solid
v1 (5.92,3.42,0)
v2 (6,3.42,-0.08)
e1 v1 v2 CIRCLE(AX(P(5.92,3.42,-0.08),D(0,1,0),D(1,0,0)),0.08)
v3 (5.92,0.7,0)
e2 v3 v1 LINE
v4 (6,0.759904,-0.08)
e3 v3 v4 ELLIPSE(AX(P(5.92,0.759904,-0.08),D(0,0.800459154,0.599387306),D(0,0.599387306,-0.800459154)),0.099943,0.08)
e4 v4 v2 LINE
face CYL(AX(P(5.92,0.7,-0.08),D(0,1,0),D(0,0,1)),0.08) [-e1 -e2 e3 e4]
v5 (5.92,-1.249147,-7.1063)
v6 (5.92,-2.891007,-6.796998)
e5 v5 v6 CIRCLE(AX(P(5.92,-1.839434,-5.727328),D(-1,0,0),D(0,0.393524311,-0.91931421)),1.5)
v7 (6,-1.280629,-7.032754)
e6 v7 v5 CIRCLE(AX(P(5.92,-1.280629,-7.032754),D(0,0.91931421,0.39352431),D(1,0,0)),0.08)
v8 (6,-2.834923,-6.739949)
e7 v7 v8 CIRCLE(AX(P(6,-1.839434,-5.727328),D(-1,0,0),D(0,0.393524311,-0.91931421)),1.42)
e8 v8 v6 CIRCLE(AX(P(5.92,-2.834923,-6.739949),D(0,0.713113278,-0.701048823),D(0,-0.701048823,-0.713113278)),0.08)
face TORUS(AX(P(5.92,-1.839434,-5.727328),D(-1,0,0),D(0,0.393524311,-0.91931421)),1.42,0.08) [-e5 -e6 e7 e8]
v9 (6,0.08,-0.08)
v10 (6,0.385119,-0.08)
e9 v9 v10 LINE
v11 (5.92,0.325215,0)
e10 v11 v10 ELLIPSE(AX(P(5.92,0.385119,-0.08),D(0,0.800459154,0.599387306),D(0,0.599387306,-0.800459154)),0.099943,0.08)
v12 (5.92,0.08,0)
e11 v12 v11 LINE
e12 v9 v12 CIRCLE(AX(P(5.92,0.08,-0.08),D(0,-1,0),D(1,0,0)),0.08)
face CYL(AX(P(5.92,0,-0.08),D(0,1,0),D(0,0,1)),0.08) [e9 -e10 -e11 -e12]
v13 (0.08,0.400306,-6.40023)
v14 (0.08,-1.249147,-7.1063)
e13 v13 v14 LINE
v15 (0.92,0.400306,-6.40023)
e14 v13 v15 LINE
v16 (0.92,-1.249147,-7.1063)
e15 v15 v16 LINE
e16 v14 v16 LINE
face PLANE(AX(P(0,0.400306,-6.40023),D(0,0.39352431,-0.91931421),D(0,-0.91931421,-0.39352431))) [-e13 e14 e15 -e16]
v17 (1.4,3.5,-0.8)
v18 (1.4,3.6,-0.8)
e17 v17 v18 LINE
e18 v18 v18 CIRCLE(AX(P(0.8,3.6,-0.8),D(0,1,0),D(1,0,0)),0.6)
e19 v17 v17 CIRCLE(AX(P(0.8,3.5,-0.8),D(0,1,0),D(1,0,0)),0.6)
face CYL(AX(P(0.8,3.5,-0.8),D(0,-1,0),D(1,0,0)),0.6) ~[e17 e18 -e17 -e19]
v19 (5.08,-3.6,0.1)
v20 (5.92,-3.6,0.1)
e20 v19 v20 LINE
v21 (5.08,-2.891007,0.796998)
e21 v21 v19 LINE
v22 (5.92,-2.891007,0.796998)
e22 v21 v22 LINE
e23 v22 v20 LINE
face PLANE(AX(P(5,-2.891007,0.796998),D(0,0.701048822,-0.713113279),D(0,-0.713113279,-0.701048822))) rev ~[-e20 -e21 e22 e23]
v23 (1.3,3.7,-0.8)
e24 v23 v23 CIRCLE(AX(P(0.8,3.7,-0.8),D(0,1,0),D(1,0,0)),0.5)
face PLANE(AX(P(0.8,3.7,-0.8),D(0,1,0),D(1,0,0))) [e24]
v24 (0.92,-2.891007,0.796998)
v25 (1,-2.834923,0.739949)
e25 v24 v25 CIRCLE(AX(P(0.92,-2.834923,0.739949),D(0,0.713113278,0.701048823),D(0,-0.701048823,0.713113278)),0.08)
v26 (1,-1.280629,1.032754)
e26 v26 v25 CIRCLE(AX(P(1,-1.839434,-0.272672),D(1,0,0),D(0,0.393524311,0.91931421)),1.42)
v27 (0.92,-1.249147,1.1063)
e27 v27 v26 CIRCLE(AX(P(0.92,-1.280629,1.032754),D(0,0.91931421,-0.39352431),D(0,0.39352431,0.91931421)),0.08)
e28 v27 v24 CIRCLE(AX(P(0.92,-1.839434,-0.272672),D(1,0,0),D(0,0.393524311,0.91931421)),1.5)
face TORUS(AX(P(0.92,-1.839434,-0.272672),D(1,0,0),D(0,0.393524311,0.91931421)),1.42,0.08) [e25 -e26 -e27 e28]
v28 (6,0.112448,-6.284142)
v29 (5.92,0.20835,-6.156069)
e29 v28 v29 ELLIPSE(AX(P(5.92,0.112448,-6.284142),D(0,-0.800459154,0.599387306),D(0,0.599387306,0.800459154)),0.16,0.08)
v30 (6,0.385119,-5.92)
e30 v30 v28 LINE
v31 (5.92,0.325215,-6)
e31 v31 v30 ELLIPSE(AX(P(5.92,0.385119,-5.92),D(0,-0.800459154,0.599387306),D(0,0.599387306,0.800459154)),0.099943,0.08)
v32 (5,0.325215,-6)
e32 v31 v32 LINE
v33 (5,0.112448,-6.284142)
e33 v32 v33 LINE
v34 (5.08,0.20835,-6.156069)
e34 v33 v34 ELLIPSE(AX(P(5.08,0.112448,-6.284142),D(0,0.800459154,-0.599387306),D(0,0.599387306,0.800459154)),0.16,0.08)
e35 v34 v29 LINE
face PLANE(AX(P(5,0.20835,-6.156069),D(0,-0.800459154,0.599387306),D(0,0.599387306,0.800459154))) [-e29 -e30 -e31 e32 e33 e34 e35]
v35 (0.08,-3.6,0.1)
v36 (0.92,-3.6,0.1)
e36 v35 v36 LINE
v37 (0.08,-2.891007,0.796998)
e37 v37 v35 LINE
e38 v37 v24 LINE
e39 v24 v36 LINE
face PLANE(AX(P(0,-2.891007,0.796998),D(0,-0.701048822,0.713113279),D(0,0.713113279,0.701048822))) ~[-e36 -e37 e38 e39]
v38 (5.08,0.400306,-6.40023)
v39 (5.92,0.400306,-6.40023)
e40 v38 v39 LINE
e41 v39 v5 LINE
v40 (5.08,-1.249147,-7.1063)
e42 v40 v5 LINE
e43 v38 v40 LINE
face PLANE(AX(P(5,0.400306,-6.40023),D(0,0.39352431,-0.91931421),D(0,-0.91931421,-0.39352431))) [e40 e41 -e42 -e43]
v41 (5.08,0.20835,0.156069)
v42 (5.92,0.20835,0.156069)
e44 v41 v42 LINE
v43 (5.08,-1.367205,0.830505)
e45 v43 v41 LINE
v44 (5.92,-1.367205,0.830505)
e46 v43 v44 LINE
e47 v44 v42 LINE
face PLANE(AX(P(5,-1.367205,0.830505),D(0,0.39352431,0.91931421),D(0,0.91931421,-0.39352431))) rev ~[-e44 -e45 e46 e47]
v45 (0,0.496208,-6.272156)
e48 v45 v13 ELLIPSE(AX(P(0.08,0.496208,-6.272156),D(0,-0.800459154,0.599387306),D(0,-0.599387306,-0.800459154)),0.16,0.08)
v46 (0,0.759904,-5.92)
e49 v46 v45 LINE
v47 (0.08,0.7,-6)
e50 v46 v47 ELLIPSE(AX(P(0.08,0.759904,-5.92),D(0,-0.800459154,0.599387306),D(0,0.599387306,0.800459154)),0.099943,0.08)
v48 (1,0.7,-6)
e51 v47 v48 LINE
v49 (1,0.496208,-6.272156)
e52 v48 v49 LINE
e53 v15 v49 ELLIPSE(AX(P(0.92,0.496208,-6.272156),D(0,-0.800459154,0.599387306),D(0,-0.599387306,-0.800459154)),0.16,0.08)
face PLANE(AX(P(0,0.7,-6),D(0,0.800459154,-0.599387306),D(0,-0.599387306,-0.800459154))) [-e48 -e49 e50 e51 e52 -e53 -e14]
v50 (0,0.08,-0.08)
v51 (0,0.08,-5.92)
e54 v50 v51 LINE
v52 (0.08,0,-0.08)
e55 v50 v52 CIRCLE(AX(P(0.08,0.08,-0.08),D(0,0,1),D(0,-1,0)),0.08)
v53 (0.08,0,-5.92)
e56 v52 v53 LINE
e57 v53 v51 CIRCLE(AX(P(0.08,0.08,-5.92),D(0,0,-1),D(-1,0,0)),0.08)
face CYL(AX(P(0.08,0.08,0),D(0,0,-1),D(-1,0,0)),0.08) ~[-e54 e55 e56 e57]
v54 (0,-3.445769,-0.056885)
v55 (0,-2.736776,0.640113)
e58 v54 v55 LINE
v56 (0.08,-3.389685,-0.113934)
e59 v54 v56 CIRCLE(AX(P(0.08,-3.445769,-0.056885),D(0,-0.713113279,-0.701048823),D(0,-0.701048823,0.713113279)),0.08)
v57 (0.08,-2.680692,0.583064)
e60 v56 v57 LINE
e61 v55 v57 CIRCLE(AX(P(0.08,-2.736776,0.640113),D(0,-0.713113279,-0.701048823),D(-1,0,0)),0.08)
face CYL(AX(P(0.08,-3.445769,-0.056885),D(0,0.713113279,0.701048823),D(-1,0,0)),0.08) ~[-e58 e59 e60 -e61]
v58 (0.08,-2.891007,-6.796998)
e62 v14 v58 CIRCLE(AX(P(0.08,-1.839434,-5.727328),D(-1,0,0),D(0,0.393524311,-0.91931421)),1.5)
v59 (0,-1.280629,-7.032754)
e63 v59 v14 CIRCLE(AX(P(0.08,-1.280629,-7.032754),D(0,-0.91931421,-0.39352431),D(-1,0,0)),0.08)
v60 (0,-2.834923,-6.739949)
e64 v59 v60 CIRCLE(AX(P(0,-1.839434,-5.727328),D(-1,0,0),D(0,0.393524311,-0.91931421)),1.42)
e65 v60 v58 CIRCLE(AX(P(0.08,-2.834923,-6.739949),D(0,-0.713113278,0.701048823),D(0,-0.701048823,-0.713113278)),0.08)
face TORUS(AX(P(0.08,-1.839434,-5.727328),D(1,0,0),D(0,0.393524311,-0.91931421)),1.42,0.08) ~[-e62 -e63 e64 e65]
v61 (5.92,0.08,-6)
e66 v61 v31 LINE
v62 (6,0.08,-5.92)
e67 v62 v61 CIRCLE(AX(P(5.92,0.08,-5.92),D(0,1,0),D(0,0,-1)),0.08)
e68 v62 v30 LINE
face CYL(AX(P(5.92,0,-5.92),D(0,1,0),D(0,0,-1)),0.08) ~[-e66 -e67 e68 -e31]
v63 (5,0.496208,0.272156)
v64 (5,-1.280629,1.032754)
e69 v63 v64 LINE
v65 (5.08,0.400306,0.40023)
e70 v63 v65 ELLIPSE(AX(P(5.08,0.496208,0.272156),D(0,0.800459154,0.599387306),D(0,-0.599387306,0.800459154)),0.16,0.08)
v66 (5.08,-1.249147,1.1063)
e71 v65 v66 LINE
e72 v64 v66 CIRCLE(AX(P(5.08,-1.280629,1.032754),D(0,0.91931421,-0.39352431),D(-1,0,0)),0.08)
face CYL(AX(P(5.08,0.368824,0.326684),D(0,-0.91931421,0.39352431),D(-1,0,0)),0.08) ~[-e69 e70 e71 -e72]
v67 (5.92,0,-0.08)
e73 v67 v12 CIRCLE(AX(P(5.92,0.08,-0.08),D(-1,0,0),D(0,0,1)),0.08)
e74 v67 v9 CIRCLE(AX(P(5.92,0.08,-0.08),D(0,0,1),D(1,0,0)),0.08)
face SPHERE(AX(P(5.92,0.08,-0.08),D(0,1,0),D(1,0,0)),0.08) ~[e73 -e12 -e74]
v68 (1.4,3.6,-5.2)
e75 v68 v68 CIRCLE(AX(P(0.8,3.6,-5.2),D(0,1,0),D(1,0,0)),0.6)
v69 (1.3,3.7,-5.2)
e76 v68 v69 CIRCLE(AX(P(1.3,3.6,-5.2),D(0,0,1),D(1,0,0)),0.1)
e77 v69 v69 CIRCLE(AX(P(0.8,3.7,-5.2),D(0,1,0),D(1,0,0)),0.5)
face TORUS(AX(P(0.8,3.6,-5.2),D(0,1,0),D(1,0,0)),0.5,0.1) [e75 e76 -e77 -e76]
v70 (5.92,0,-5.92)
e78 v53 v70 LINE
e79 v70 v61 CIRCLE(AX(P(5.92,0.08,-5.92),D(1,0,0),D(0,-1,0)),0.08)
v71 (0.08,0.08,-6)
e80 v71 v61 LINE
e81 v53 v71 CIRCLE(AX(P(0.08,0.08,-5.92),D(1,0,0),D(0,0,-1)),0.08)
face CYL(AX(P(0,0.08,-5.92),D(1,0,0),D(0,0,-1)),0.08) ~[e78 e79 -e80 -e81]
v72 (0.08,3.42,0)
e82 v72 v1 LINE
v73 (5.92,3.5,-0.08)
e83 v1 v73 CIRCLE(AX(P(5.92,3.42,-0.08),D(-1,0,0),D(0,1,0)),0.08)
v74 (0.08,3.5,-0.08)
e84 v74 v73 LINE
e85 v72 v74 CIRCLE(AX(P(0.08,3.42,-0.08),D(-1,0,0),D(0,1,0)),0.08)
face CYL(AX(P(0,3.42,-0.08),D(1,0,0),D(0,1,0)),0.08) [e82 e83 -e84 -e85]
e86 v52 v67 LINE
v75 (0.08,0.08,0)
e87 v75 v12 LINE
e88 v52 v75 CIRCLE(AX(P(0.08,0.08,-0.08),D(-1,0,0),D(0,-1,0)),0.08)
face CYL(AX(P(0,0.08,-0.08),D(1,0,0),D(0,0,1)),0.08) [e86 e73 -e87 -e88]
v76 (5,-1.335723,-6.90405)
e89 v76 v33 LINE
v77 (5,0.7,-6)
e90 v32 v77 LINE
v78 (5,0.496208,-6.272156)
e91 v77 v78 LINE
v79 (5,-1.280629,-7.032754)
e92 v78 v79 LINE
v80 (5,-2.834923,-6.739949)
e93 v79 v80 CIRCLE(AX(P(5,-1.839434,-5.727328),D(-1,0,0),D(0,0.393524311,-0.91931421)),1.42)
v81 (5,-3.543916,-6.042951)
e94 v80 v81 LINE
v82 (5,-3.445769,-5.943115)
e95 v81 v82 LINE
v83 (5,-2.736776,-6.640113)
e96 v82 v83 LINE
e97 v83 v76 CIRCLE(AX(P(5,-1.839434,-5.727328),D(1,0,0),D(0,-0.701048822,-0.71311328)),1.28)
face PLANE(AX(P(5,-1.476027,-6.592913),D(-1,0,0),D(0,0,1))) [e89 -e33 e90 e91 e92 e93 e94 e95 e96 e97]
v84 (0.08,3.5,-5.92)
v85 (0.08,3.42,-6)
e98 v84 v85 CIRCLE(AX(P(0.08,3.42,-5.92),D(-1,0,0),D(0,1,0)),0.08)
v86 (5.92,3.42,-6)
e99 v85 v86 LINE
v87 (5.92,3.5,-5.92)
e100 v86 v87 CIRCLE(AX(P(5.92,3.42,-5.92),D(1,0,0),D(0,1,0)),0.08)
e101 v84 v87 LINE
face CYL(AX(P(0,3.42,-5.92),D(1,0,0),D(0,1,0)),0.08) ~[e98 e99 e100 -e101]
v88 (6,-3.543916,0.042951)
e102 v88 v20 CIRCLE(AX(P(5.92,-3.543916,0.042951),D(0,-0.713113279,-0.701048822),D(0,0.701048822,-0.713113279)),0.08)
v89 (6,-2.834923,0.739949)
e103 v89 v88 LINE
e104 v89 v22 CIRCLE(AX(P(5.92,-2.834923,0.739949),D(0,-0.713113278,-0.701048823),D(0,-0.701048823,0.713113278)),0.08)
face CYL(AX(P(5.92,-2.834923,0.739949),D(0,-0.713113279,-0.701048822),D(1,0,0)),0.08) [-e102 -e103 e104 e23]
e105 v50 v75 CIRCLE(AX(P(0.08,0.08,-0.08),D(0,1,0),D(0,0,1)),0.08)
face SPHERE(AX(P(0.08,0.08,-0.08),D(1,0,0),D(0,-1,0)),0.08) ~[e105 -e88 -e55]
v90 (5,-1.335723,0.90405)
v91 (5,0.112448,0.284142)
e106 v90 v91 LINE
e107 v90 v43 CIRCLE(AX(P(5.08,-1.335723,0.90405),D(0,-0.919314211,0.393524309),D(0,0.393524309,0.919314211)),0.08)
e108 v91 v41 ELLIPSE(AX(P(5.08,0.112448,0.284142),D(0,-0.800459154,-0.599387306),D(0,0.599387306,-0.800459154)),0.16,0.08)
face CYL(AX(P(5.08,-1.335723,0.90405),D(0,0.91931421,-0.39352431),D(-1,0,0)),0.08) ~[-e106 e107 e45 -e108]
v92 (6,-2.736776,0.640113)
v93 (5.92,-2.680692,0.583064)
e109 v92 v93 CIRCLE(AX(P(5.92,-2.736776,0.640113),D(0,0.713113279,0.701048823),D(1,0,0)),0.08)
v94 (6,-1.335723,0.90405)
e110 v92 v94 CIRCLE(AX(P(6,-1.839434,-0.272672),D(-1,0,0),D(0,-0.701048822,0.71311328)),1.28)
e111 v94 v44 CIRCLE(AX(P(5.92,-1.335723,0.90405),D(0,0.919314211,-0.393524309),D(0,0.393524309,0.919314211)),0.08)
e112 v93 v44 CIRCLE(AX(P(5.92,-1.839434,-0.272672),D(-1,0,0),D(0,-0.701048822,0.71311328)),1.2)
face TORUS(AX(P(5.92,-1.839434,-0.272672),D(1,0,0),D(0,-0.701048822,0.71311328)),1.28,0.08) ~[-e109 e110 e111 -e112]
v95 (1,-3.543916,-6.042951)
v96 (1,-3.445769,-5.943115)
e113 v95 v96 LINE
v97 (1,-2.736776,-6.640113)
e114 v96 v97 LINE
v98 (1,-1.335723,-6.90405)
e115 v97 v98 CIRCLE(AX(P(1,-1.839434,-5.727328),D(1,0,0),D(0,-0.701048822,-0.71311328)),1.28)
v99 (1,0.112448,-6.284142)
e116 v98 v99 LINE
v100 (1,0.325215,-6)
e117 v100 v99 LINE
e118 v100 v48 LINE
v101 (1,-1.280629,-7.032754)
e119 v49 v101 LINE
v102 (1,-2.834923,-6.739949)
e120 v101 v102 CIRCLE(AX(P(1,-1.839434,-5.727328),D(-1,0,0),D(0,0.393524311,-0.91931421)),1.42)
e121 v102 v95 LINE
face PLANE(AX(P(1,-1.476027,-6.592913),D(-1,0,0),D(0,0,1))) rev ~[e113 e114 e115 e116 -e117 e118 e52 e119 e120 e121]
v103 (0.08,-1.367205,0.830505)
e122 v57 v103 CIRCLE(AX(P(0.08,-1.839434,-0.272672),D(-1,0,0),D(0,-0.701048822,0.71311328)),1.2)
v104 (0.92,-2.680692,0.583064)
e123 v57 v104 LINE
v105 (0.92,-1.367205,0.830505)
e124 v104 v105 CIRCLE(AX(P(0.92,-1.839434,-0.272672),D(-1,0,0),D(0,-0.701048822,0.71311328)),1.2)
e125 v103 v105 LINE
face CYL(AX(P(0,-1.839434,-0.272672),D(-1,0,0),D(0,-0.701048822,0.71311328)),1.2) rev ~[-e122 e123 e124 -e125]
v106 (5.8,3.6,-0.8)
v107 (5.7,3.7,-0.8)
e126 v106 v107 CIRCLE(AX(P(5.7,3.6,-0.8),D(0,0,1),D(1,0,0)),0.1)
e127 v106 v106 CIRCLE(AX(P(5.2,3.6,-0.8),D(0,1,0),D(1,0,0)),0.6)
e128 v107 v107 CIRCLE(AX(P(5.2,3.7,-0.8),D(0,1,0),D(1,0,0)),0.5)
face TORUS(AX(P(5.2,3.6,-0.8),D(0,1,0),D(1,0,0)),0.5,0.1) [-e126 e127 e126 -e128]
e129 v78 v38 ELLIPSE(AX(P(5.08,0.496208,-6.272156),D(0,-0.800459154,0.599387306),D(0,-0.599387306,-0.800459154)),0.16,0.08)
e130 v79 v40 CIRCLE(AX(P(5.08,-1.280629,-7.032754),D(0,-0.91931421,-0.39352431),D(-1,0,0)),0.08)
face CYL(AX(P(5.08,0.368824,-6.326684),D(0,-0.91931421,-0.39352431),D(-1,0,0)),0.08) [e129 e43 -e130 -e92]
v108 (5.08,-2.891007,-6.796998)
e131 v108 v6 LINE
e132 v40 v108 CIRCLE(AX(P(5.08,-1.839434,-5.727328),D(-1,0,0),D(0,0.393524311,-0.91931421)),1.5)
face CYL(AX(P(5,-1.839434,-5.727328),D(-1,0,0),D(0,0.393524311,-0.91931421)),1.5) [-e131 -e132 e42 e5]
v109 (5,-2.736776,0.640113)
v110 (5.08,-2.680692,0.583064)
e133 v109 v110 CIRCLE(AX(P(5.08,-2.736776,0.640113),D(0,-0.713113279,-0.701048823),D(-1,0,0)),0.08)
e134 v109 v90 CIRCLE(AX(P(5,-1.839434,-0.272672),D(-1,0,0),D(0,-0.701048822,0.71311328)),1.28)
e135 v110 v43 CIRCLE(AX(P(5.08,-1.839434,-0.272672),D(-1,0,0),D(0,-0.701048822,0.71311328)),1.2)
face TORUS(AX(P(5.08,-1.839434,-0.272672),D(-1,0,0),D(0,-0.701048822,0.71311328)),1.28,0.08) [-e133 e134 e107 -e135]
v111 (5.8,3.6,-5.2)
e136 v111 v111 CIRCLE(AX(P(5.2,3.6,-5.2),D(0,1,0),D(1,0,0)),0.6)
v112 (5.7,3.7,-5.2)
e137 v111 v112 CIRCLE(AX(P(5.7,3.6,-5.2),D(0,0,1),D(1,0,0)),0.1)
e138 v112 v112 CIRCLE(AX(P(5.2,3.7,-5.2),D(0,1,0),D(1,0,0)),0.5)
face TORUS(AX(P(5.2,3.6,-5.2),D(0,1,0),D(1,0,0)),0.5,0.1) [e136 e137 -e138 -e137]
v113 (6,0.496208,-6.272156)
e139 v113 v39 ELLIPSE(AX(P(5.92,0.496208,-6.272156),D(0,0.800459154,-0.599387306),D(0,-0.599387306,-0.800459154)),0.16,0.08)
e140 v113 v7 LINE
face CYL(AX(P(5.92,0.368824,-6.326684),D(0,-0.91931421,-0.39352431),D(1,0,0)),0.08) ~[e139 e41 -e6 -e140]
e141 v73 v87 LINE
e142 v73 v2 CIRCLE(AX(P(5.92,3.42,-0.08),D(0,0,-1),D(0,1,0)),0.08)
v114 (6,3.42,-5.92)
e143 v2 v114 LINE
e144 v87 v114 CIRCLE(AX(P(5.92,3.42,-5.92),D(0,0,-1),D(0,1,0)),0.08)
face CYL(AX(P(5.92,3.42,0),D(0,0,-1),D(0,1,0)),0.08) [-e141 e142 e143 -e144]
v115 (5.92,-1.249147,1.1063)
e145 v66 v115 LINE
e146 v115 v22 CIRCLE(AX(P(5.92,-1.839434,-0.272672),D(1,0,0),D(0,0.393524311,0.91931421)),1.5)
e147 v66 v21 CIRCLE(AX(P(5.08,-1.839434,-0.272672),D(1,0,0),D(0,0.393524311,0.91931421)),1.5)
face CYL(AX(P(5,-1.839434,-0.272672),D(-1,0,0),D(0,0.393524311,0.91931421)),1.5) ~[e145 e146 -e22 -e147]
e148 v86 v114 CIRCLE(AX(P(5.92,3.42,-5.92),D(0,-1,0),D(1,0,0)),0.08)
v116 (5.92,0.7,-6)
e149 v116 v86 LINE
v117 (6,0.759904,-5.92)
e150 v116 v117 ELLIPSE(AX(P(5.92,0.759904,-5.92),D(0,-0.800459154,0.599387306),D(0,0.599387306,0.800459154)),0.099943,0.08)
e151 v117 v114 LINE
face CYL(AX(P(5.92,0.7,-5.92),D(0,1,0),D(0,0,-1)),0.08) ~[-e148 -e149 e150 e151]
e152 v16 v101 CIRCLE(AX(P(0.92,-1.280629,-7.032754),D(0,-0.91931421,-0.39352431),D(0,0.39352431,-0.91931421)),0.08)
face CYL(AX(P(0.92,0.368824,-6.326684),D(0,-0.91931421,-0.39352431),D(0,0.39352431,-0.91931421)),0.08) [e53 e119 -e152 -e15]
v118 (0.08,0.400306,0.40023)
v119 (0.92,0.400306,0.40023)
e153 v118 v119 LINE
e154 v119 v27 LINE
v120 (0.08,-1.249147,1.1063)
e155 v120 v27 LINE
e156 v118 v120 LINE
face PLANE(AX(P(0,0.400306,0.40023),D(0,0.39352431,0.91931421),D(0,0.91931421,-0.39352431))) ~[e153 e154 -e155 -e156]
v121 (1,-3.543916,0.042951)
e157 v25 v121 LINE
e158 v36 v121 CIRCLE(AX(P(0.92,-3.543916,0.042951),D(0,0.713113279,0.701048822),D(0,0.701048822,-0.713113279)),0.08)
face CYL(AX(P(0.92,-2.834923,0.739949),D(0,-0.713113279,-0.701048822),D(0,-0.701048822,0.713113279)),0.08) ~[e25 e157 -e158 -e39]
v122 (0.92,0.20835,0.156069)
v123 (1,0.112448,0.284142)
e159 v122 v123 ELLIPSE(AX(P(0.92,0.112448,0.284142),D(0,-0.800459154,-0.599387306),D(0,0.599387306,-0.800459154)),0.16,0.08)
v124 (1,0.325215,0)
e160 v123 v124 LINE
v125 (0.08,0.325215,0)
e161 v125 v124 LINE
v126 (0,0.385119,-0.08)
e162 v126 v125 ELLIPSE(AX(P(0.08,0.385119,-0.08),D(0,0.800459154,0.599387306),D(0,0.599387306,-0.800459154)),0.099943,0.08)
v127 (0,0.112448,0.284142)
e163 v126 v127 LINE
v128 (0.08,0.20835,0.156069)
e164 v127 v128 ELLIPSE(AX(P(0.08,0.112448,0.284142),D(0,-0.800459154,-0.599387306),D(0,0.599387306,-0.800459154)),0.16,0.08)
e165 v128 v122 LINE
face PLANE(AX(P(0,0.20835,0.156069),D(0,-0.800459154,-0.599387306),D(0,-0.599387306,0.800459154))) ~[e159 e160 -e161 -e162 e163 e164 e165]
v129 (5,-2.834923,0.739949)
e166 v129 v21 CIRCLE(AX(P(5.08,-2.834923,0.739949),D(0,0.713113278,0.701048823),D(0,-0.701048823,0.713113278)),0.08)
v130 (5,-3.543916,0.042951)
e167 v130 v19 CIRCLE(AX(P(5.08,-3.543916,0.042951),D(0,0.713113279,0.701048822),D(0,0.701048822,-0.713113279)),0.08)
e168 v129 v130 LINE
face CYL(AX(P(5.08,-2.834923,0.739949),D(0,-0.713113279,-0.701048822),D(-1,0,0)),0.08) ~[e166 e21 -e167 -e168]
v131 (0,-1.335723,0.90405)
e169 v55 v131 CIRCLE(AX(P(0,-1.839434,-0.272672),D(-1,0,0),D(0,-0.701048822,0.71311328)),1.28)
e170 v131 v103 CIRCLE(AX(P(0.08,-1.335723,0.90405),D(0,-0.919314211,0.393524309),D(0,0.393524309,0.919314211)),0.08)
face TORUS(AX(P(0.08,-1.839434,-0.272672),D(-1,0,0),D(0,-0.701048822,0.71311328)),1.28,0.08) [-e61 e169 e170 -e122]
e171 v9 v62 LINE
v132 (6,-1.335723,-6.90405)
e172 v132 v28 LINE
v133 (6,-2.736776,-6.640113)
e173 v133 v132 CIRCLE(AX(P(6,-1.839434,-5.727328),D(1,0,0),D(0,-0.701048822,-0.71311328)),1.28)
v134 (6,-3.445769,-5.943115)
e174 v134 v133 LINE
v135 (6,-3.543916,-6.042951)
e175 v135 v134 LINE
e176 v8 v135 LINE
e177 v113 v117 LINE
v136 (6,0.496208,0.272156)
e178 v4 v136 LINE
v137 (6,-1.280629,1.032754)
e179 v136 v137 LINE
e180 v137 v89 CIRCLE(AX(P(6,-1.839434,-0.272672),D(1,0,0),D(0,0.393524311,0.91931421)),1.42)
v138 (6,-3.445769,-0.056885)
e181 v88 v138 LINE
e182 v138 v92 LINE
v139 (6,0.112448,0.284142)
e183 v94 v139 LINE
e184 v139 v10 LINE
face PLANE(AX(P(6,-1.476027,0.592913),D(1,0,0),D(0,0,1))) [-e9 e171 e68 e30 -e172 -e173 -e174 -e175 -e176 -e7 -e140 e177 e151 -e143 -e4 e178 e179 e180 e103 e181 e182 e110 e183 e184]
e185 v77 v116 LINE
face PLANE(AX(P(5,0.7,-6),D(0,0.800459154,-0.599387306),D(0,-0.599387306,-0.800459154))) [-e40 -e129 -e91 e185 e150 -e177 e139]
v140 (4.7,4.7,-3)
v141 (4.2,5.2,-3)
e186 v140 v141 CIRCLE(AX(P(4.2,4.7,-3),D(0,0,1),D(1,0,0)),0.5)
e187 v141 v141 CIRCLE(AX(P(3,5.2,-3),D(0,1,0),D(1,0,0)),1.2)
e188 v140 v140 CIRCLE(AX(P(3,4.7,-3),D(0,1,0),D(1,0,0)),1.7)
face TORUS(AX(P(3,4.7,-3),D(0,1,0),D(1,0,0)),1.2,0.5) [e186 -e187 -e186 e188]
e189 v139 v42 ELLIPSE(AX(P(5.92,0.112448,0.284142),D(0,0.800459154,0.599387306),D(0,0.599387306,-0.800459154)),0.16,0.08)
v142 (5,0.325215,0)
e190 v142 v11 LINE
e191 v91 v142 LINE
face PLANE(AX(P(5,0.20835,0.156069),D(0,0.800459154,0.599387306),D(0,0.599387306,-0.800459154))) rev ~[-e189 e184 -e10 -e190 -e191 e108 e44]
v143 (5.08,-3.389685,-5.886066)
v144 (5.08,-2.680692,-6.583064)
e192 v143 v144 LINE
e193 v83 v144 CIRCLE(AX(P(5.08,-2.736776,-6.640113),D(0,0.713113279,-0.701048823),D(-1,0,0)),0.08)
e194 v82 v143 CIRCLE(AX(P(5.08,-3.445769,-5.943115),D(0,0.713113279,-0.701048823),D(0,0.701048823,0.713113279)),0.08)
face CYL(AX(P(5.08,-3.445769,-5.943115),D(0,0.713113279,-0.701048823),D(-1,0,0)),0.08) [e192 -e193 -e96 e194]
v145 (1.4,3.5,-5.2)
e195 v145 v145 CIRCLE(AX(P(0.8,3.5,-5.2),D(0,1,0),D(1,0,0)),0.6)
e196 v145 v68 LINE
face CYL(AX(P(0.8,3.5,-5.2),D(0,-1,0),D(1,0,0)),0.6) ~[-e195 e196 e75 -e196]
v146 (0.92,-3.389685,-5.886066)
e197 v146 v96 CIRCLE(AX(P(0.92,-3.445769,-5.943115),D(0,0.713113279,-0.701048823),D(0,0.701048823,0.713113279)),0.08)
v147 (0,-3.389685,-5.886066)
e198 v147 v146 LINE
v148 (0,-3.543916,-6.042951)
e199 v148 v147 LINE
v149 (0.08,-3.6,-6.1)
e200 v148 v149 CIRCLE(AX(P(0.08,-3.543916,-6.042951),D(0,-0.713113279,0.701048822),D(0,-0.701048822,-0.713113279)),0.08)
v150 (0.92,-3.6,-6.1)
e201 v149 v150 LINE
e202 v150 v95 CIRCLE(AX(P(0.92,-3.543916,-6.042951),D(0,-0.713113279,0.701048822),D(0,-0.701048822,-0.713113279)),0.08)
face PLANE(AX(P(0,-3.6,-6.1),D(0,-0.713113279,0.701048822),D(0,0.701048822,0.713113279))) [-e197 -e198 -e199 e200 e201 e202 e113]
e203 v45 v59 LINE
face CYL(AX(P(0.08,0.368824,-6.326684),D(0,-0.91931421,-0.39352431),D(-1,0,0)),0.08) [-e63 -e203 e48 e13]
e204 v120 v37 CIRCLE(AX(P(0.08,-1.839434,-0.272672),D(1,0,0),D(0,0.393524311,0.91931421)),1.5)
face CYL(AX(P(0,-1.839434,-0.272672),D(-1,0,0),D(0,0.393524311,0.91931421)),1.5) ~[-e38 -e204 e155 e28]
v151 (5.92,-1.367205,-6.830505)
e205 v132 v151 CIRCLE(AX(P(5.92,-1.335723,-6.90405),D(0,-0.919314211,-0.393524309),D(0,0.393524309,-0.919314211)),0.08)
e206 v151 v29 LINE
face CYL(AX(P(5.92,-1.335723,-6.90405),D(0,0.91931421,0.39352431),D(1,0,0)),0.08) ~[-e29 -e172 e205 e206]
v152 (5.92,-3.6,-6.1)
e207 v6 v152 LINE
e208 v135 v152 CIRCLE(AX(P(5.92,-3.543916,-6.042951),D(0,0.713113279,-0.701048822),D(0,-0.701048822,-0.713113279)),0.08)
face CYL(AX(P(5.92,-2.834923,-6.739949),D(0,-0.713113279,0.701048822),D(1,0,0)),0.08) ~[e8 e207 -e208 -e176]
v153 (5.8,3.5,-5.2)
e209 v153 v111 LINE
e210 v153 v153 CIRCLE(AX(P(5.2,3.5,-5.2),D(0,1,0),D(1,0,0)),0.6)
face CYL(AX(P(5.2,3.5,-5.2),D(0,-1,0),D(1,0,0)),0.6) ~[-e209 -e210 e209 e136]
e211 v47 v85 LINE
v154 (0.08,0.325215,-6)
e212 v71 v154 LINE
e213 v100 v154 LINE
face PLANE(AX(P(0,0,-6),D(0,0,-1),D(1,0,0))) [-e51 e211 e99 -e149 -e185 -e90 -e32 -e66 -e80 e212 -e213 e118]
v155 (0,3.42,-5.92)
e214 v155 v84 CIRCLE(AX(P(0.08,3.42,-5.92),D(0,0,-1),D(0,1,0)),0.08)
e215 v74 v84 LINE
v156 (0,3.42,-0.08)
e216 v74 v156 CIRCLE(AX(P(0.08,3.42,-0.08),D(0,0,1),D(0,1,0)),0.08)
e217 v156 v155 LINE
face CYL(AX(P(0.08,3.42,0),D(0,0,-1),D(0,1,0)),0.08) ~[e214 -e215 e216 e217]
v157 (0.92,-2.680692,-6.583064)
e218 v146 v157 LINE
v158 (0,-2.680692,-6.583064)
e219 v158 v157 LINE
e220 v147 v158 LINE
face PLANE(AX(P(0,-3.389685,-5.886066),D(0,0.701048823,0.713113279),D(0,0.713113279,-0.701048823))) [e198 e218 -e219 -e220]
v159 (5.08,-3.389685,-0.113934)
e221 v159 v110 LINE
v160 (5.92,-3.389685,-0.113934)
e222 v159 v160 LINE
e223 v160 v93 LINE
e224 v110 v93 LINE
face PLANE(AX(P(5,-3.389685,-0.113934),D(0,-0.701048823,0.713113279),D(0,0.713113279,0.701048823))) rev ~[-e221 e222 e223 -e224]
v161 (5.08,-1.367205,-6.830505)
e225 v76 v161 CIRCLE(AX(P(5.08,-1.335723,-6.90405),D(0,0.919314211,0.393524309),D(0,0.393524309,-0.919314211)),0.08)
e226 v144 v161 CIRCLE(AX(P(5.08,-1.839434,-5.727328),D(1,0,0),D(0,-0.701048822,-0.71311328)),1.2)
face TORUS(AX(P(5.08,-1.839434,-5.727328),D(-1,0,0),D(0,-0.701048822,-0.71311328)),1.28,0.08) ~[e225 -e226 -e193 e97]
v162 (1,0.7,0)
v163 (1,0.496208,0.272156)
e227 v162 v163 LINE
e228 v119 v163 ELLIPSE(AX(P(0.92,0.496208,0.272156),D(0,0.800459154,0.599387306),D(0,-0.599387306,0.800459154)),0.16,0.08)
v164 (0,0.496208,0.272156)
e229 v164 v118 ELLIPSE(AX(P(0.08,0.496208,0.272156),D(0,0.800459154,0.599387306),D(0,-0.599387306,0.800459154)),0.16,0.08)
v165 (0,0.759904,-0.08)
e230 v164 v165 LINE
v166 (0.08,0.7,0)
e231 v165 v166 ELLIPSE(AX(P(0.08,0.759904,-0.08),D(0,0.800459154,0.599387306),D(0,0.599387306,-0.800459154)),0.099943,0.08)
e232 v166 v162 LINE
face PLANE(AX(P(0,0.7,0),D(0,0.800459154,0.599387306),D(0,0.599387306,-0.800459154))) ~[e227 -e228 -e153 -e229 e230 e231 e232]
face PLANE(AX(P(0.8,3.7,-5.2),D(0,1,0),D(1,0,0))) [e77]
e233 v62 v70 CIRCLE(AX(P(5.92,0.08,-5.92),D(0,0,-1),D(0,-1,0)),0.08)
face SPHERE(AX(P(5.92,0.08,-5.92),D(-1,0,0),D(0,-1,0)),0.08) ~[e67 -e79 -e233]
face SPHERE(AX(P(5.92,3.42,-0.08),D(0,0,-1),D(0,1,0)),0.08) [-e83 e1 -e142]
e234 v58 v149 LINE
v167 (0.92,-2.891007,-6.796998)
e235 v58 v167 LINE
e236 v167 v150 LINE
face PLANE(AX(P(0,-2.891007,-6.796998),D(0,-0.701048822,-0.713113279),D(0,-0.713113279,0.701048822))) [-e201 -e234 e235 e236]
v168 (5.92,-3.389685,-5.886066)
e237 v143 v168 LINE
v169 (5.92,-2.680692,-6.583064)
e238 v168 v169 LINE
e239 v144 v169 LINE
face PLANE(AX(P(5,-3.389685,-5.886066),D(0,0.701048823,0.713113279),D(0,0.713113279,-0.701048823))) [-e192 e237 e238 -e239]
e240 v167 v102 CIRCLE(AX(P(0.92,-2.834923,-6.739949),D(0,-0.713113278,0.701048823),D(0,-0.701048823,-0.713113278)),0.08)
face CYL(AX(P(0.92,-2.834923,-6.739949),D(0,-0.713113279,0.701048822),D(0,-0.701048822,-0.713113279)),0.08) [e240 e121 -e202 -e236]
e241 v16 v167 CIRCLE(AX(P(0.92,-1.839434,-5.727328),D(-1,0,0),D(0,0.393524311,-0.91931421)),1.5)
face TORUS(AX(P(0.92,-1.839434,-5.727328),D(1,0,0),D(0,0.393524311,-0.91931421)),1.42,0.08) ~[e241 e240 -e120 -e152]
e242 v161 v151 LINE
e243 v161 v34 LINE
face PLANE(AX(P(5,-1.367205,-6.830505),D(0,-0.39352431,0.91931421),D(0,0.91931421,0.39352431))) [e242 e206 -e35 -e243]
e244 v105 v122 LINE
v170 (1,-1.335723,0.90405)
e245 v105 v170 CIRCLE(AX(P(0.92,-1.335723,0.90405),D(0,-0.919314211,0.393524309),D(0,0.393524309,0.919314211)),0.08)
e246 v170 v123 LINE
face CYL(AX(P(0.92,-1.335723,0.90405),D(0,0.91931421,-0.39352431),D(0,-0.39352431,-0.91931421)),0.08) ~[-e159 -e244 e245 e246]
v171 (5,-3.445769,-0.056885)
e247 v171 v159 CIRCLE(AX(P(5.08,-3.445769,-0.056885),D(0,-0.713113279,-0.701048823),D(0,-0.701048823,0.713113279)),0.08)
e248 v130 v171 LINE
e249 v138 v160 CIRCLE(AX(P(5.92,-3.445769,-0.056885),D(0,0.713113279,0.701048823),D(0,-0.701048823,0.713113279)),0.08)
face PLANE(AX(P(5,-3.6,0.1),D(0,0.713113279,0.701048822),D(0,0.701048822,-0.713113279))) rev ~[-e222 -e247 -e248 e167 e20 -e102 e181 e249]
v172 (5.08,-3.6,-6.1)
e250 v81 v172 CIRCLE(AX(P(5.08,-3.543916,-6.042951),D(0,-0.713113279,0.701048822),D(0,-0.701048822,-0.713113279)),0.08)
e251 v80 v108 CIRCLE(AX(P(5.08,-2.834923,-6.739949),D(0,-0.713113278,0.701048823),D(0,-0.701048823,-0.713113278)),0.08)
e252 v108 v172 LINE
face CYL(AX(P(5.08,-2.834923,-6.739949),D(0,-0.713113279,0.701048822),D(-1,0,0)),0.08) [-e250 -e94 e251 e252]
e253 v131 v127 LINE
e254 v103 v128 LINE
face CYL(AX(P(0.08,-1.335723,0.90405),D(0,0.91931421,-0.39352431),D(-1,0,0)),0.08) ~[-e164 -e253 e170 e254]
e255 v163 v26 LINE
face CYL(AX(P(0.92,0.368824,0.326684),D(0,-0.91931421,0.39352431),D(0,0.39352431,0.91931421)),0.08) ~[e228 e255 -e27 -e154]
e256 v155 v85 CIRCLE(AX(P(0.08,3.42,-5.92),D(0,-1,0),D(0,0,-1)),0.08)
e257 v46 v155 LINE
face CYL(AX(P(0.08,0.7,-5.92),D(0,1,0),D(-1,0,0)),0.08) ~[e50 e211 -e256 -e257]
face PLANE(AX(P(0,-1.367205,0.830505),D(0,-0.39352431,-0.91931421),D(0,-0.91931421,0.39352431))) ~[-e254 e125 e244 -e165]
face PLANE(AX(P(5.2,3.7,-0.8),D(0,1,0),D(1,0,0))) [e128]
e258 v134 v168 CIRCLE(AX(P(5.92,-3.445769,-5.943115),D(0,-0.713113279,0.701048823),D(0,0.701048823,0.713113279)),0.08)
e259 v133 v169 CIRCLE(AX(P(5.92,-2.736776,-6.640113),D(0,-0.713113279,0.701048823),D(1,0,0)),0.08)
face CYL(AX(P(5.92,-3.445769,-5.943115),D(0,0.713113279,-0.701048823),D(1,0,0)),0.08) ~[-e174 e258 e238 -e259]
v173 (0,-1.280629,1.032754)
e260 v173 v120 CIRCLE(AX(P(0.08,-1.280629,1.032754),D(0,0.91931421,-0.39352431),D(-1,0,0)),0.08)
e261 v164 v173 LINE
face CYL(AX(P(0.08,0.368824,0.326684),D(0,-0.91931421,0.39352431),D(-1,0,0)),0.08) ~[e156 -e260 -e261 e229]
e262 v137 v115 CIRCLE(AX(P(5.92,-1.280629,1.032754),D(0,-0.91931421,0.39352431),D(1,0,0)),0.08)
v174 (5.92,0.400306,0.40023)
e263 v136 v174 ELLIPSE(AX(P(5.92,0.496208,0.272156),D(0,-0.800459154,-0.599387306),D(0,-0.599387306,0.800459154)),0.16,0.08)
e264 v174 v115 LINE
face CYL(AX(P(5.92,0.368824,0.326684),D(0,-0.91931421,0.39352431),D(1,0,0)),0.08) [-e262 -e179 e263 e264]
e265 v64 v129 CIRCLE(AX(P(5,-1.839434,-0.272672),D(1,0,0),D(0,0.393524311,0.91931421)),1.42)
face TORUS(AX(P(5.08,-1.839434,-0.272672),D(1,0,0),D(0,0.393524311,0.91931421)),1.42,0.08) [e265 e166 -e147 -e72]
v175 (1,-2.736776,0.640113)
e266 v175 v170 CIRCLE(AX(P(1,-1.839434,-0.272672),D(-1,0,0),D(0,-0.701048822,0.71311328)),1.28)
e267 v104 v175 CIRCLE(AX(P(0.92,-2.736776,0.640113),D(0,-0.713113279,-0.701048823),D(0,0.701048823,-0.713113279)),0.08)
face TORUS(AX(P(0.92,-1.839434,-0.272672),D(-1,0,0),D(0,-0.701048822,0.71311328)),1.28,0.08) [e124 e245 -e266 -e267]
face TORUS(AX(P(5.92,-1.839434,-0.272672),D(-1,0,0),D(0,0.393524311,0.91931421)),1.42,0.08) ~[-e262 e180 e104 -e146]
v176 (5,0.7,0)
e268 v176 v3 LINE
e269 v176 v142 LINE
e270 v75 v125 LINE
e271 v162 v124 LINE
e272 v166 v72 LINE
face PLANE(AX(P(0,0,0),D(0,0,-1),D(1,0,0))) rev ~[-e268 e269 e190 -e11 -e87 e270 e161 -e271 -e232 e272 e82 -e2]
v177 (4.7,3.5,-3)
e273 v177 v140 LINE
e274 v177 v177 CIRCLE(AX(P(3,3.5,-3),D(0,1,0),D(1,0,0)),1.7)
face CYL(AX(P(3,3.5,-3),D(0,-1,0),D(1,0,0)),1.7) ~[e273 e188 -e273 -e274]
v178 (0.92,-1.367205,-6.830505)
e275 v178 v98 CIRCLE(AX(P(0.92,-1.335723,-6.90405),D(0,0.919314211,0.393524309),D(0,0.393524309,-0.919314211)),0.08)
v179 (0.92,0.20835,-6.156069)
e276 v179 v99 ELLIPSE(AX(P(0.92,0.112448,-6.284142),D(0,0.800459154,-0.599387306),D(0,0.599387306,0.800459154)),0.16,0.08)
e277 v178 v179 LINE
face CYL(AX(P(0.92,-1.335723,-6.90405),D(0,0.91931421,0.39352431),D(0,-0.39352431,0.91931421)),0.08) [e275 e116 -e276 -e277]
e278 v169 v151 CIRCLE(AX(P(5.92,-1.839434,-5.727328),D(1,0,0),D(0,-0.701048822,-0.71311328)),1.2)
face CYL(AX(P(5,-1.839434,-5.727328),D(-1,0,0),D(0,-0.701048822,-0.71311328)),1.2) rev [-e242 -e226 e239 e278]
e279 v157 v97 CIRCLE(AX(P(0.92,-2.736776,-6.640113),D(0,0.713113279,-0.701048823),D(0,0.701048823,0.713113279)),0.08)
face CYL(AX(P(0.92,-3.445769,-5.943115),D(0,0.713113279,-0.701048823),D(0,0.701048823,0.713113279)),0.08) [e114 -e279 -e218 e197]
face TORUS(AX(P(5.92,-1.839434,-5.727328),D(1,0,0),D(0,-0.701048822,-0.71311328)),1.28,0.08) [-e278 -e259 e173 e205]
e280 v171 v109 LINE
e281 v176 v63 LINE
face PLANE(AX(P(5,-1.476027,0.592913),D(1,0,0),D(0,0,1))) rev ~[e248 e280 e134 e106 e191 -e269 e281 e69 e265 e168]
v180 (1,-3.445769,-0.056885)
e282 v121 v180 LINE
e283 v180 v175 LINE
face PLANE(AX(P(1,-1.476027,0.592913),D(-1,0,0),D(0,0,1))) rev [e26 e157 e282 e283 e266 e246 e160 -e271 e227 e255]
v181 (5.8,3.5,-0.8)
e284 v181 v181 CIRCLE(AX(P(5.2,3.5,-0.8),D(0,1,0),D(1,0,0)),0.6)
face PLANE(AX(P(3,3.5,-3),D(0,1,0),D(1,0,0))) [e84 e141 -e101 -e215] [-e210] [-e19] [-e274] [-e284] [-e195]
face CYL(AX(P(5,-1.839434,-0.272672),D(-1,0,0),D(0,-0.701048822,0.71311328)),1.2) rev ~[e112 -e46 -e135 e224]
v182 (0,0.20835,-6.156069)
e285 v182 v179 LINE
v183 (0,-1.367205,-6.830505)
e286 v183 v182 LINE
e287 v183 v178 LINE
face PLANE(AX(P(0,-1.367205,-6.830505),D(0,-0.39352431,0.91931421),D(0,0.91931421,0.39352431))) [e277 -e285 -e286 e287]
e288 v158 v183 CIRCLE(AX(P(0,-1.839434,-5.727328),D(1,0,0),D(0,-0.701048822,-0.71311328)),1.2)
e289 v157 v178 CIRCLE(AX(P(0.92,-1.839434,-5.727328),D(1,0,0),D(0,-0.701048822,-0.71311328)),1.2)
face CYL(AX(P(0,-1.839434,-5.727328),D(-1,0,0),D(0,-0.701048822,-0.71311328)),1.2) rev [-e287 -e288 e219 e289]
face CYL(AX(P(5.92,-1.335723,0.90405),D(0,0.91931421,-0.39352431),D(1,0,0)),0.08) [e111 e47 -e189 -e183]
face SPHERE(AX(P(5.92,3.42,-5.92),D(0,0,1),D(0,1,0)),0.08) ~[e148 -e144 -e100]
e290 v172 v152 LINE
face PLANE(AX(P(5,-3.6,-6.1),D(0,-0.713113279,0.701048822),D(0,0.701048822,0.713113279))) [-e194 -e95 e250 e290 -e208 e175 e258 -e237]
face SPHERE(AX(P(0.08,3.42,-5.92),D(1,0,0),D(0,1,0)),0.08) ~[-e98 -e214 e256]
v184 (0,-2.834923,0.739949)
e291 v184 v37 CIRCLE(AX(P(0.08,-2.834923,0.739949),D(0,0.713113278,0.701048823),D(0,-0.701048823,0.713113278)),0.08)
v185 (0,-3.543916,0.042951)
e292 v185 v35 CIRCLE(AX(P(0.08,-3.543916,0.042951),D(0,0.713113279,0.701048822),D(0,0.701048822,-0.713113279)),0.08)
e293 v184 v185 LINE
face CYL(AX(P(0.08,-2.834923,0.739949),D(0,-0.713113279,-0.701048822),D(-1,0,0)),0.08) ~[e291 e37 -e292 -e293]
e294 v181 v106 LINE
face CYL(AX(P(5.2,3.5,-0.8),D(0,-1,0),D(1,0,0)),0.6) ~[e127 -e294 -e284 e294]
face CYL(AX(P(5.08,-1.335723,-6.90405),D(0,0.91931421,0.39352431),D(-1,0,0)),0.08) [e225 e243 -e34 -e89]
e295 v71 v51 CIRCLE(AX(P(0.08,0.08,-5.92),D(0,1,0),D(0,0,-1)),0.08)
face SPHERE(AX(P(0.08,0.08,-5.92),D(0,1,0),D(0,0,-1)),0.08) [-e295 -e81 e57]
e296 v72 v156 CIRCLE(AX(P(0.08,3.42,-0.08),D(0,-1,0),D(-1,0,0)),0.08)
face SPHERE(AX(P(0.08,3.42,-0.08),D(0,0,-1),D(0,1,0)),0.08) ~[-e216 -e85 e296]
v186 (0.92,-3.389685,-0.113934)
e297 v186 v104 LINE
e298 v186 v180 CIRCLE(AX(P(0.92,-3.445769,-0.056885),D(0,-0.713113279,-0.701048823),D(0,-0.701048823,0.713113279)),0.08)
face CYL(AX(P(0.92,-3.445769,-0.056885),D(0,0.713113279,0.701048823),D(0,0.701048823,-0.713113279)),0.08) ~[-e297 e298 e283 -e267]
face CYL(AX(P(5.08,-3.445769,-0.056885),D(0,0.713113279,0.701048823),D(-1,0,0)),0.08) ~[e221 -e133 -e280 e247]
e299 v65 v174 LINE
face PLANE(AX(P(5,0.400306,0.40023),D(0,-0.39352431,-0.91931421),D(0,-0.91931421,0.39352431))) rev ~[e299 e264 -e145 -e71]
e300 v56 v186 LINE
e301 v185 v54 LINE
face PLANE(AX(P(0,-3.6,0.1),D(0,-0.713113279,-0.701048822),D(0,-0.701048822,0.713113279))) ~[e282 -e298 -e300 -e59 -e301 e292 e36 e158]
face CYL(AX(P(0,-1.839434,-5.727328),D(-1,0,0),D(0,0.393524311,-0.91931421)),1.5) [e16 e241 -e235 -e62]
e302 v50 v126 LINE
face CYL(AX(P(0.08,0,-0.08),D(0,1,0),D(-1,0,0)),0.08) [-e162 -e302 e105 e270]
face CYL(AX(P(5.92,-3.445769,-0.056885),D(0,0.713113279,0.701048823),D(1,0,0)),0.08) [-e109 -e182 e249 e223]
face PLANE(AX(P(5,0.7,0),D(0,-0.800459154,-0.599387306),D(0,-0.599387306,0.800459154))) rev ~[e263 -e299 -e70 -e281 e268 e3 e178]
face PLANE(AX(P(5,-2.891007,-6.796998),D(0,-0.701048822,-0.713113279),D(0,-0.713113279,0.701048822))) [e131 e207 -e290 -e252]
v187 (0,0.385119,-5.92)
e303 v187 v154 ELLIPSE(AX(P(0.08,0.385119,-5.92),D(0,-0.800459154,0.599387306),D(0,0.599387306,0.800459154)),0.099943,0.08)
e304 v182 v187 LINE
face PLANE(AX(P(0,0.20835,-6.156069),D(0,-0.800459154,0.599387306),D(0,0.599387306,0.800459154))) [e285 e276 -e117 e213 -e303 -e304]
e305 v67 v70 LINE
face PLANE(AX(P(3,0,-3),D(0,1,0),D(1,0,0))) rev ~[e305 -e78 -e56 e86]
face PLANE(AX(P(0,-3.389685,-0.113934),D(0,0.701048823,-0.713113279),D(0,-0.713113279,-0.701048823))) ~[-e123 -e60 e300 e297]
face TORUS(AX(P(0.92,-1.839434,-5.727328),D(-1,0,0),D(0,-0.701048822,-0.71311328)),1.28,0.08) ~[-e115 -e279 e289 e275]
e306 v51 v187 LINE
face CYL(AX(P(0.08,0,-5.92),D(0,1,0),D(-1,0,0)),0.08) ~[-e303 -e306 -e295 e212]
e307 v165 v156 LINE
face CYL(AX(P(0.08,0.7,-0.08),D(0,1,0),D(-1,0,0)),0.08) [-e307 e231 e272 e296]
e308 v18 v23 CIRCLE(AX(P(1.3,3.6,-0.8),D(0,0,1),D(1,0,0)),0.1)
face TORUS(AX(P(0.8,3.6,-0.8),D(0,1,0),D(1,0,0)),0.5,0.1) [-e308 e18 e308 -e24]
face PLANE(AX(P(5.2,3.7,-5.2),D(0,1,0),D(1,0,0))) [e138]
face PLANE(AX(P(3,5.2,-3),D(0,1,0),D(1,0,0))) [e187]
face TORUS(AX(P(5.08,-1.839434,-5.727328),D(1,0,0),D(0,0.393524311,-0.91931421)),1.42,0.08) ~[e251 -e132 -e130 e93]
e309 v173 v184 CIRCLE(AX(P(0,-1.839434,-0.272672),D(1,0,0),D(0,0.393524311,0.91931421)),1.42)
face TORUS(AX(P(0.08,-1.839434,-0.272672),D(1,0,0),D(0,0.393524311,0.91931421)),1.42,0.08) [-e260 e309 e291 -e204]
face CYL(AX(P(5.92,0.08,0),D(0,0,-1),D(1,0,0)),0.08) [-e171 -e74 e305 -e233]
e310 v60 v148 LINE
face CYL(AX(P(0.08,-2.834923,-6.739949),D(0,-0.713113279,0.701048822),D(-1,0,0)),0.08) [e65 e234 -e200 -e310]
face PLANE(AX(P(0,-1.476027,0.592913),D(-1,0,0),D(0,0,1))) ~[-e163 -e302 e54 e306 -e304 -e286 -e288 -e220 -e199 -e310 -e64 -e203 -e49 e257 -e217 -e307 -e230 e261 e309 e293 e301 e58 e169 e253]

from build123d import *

# Parameters (mm, degrees)
SKETCH1_W            = 6
SKETCH1_H            = 6
BOSS_EXTRUDE1_DEPTH  = 3.5
SKETCH2_R            = 1.7
BOSS_EXTRUDE2_DEPTH  = 1.7
SKETCH3_R            = 0.6
BOSS_EXTRUDE3_DEPTH  = 0.2
EXTRUDE_THIN1_DEPTH  = 1
LPATTERN1_COUNT      = 2
LPATTERN1_PITCH      = 5
MIRROR1_COPY_1_DEPTH = 1
FILLET1_R            = 0.1
FILLET2_R            = 0.5
FILLET13_R           = 0.08


with BuildPart() as part:
    # Sketch1 → Boss-Extrude1 (new body)
    with BuildSketch(Plane(origin=(0, 0, 0), x_dir=(1, 0, 0), z_dir=(0, 1, 0))):
        with Locations((3, 3)):
            Rectangle(SKETCH1_W, SKETCH1_H)
    extrude(amount=BOSS_EXTRUDE1_DEPTH)

    # Sketch2 → Boss-Extrude2 (add)
    with BuildSketch(Plane(origin=(0, 3.5, 0), x_dir=(1, 0, 0), z_dir=(0, 1, 0))):
        with Locations((3, 3)):
            Circle(SKETCH2_R)
    extrude(amount=BOSS_EXTRUDE2_DEPTH)

    # Sketch3 → Boss-Extrude3 (add)
    with BuildSketch(Plane(origin=(0, 3.5, 0), x_dir=(1, 0, 0), z_dir=(0, 1, 0))):
        with Locations((0.8, 5.2)):
            Circle(SKETCH3_R)
        with Locations((5.2, 5.2)):
            Circle(SKETCH3_R)
        with Locations((5.2, 0.8)):
            Circle(SKETCH3_R)
        with Locations((0.8, 0.8)):
            Circle(SKETCH3_R)
    extrude(amount=BOSS_EXTRUDE3_DEPTH)

    # Sketch4 → Extrude-Thin1 (add)
    with BuildSketch(Plane(origin=(0, 0, 0), x_dir=(0, 0, -1), z_dir=(1, 0, 0))):
        with BuildLine():
            Line((6, 0.7), (6.400229577, 0.400306347))
            Line((6.400229577, 0.400306347), (7.106299541, -1.24914741))
            ThreePointArc((7.106299541, -1.24914741), (7.201399727, -2.117126527), (6.796998144, -2.891007108))
            Line((6.796998144, -2.891007108), (6.1, -3.6))
            Line((6.1, -3.6), (5.886066016, -3.389685353))
            Line((5.886066016, -3.389685353), (6.58306416, -2.680692462))
            ThreePointArc((6.58306416, -2.680692462), (6.906585426, -2.061587997), (6.830505278, -1.367204703))
            Line((6.830505278, -1.367204703), (6.15606867, 0.208350204))
            Line((6.15606867, 0.208350204), (5.820183808, 0.459862254))
            Line((5.820183808, 0.459862254), (6, 0.7))
        make_face()
    extrude_thin1 = extrude(amount=EXTRUDE_THIN1_DEPTH)

    # LPattern1: Extrude-Thin1 ×2
    with Locations(*[(i * LPATTERN1_PITCH, 0, 0) for i in range(1, LPATTERN1_COUNT)]):
        add(extrude_thin1)

    # Mirror1: Extrude-Thin1 across plane
    add(extrude_thin1.mirror(Plane.XY.offset(-3)))

    # Mirror1 copy 1 sketch → Mirror1 copy 1 (add)
    with BuildSketch(Plane(origin=(5, 0, -6), x_dir=(0, 0, 1), z_dir=(1, 0, 0))):
        with BuildLine():
            Line((6, -0.7), (6.400229577, -0.400306347))
            Line((6.400229577, -0.400306347), (7.106299541, 1.24914741))
            ThreePointArc((7.106299541, 1.24914741), (7.201399727, 2.117126527), (6.796998144, 2.891007108))
            Line((6.796998144, 2.891007108), (6.1, 3.6))
            Line((6.1, 3.6), (5.886066016, 3.389685353))
            Line((5.886066016, 3.389685353), (6.58306416, 2.680692462))
            ThreePointArc((6.58306416, 2.680692462), (6.906585426, 2.061587997), (6.830505278, 1.367204703))
            Line((6.830505278, 1.367204703), (6.15606867, -0.208350204))
            Line((6.15606867, -0.208350204), (5.820183808, -0.459862254))
            Line((5.820183808, -0.459862254), (6, -0.7))
        make_face()
    extrude(amount=MIRROR1_COPY_1_DEPTH)

    # Fillet1
    fillet1_edges = [part.edges().sort_by_distance(p)[0] for p in [
        (0.2, 3.7, -5.2),
        (4.6, 3.7, -5.2),
        (4.6, 3.7, -0.8),
        (0.2, 3.7, -0.8),
    ]]
    fillet(fillet1_edges, radius=FILLET1_R)

    # Fillet2
    fillet2_edges = [part.edges().sort_by_distance(p)[0] for p in [
        (1.3, 5.2, -3),
    ]]
    fillet(fillet2_edges, radius=FILLET2_R)

    # Fillet13
    fillet13_edges = [part.edges().sort_by_distance(p)[0] for p in [
        (6, 3.5, -3),
        (0, -0.579427249, 0.493286974),
        (0, -2.061587997, 0.906585426),
        (0, -3.035188907, 0.234565088),
        (1, -3.035188907, 0.234565088),
        (1, -2.061587997, 0.906585426),
        (1, -0.579427249, 0.493286974),
        (0, -0.424420531, 0.753264559),
        (0, -2.117126527, 1.201399727),
        (0, -3.245503554, 0.448499072),
        (6, 0.162607553, 0),
        (6, -0.424420531, 0.753264559),
        (6, -2.117126527, 1.201399727),
        (6, -3.245503554, 0.448499072),
        (5, -0.579427249, 0.493286974),
        (5, -2.061587997, 0.906585426),
        (5, -3.035188907, 0.234565088),
        (6, -3.035188907, 0.234565088),
        (6, -2.061587997, 0.906585426),
        (6, -0.579427249, 0.493286974),
        (5, -0.424420531, 0.753264559),
        (5, -2.117126527, 1.201399727),
        (5, -3.245503554, 0.448499072),
        (3, 3.5, -6),
        (0, 0.162607553, -6),
        (0, 3.5, -3),
        (1, -0.579427249, -6.493286974),
        (1, -2.061587997, -6.906585426),
        (1, -3.035188907, -6.234565088),
        (0, -0.424420531, -6.753264559),
        (0, -2.117126527, -7.201399727),
        (0, -3.245503554, -6.448499072),
        (1, -3.245503554, -6.448499072),
        (1, -2.117126527, -7.201399727),
        (1, -0.424420531, -6.753264559),
        (3, 0, -6),
        (6, 0, -3),
        (3, 0, 0),
        (0, 0, -3),
        (6, 0.162607553, -6),
        (6, -0.579427249, -6.493286974),
        (3, 3.5, 0),
        (6, -2.061587997, -6.906585426),
        (6, -3.035188907, -6.234565088),
        (5, -0.424420531, -6.753264559),
        (5, -2.117126527, -7.201399727),
        (5, -3.245503554, -6.448499072),
        (5, -3.035188907, -6.234565088),
        (6, -3.245503554, -6.448499072),
        (6, -2.117126527, -7.201399727),
        (6, -0.424420531, -6.753264559),
        (0, 2.1, -6),
        (5, -0.579427249, -6.493286974),
        (6, 2.1, -6),
        (5, -2.061587997, -6.906585426),
        (6, 2.1, 0),
        (0, 2.1, 0),
        (0, 0.162607553, 0),
        (1, -0.424420531, 0.753264559),
        (1, -2.117126527, 1.201399727),
        (1, -3.245503554, 0.448499072),
    ]]
    fillet(fillet13_edges, radius=FILLET13_R)


solid = part.part
